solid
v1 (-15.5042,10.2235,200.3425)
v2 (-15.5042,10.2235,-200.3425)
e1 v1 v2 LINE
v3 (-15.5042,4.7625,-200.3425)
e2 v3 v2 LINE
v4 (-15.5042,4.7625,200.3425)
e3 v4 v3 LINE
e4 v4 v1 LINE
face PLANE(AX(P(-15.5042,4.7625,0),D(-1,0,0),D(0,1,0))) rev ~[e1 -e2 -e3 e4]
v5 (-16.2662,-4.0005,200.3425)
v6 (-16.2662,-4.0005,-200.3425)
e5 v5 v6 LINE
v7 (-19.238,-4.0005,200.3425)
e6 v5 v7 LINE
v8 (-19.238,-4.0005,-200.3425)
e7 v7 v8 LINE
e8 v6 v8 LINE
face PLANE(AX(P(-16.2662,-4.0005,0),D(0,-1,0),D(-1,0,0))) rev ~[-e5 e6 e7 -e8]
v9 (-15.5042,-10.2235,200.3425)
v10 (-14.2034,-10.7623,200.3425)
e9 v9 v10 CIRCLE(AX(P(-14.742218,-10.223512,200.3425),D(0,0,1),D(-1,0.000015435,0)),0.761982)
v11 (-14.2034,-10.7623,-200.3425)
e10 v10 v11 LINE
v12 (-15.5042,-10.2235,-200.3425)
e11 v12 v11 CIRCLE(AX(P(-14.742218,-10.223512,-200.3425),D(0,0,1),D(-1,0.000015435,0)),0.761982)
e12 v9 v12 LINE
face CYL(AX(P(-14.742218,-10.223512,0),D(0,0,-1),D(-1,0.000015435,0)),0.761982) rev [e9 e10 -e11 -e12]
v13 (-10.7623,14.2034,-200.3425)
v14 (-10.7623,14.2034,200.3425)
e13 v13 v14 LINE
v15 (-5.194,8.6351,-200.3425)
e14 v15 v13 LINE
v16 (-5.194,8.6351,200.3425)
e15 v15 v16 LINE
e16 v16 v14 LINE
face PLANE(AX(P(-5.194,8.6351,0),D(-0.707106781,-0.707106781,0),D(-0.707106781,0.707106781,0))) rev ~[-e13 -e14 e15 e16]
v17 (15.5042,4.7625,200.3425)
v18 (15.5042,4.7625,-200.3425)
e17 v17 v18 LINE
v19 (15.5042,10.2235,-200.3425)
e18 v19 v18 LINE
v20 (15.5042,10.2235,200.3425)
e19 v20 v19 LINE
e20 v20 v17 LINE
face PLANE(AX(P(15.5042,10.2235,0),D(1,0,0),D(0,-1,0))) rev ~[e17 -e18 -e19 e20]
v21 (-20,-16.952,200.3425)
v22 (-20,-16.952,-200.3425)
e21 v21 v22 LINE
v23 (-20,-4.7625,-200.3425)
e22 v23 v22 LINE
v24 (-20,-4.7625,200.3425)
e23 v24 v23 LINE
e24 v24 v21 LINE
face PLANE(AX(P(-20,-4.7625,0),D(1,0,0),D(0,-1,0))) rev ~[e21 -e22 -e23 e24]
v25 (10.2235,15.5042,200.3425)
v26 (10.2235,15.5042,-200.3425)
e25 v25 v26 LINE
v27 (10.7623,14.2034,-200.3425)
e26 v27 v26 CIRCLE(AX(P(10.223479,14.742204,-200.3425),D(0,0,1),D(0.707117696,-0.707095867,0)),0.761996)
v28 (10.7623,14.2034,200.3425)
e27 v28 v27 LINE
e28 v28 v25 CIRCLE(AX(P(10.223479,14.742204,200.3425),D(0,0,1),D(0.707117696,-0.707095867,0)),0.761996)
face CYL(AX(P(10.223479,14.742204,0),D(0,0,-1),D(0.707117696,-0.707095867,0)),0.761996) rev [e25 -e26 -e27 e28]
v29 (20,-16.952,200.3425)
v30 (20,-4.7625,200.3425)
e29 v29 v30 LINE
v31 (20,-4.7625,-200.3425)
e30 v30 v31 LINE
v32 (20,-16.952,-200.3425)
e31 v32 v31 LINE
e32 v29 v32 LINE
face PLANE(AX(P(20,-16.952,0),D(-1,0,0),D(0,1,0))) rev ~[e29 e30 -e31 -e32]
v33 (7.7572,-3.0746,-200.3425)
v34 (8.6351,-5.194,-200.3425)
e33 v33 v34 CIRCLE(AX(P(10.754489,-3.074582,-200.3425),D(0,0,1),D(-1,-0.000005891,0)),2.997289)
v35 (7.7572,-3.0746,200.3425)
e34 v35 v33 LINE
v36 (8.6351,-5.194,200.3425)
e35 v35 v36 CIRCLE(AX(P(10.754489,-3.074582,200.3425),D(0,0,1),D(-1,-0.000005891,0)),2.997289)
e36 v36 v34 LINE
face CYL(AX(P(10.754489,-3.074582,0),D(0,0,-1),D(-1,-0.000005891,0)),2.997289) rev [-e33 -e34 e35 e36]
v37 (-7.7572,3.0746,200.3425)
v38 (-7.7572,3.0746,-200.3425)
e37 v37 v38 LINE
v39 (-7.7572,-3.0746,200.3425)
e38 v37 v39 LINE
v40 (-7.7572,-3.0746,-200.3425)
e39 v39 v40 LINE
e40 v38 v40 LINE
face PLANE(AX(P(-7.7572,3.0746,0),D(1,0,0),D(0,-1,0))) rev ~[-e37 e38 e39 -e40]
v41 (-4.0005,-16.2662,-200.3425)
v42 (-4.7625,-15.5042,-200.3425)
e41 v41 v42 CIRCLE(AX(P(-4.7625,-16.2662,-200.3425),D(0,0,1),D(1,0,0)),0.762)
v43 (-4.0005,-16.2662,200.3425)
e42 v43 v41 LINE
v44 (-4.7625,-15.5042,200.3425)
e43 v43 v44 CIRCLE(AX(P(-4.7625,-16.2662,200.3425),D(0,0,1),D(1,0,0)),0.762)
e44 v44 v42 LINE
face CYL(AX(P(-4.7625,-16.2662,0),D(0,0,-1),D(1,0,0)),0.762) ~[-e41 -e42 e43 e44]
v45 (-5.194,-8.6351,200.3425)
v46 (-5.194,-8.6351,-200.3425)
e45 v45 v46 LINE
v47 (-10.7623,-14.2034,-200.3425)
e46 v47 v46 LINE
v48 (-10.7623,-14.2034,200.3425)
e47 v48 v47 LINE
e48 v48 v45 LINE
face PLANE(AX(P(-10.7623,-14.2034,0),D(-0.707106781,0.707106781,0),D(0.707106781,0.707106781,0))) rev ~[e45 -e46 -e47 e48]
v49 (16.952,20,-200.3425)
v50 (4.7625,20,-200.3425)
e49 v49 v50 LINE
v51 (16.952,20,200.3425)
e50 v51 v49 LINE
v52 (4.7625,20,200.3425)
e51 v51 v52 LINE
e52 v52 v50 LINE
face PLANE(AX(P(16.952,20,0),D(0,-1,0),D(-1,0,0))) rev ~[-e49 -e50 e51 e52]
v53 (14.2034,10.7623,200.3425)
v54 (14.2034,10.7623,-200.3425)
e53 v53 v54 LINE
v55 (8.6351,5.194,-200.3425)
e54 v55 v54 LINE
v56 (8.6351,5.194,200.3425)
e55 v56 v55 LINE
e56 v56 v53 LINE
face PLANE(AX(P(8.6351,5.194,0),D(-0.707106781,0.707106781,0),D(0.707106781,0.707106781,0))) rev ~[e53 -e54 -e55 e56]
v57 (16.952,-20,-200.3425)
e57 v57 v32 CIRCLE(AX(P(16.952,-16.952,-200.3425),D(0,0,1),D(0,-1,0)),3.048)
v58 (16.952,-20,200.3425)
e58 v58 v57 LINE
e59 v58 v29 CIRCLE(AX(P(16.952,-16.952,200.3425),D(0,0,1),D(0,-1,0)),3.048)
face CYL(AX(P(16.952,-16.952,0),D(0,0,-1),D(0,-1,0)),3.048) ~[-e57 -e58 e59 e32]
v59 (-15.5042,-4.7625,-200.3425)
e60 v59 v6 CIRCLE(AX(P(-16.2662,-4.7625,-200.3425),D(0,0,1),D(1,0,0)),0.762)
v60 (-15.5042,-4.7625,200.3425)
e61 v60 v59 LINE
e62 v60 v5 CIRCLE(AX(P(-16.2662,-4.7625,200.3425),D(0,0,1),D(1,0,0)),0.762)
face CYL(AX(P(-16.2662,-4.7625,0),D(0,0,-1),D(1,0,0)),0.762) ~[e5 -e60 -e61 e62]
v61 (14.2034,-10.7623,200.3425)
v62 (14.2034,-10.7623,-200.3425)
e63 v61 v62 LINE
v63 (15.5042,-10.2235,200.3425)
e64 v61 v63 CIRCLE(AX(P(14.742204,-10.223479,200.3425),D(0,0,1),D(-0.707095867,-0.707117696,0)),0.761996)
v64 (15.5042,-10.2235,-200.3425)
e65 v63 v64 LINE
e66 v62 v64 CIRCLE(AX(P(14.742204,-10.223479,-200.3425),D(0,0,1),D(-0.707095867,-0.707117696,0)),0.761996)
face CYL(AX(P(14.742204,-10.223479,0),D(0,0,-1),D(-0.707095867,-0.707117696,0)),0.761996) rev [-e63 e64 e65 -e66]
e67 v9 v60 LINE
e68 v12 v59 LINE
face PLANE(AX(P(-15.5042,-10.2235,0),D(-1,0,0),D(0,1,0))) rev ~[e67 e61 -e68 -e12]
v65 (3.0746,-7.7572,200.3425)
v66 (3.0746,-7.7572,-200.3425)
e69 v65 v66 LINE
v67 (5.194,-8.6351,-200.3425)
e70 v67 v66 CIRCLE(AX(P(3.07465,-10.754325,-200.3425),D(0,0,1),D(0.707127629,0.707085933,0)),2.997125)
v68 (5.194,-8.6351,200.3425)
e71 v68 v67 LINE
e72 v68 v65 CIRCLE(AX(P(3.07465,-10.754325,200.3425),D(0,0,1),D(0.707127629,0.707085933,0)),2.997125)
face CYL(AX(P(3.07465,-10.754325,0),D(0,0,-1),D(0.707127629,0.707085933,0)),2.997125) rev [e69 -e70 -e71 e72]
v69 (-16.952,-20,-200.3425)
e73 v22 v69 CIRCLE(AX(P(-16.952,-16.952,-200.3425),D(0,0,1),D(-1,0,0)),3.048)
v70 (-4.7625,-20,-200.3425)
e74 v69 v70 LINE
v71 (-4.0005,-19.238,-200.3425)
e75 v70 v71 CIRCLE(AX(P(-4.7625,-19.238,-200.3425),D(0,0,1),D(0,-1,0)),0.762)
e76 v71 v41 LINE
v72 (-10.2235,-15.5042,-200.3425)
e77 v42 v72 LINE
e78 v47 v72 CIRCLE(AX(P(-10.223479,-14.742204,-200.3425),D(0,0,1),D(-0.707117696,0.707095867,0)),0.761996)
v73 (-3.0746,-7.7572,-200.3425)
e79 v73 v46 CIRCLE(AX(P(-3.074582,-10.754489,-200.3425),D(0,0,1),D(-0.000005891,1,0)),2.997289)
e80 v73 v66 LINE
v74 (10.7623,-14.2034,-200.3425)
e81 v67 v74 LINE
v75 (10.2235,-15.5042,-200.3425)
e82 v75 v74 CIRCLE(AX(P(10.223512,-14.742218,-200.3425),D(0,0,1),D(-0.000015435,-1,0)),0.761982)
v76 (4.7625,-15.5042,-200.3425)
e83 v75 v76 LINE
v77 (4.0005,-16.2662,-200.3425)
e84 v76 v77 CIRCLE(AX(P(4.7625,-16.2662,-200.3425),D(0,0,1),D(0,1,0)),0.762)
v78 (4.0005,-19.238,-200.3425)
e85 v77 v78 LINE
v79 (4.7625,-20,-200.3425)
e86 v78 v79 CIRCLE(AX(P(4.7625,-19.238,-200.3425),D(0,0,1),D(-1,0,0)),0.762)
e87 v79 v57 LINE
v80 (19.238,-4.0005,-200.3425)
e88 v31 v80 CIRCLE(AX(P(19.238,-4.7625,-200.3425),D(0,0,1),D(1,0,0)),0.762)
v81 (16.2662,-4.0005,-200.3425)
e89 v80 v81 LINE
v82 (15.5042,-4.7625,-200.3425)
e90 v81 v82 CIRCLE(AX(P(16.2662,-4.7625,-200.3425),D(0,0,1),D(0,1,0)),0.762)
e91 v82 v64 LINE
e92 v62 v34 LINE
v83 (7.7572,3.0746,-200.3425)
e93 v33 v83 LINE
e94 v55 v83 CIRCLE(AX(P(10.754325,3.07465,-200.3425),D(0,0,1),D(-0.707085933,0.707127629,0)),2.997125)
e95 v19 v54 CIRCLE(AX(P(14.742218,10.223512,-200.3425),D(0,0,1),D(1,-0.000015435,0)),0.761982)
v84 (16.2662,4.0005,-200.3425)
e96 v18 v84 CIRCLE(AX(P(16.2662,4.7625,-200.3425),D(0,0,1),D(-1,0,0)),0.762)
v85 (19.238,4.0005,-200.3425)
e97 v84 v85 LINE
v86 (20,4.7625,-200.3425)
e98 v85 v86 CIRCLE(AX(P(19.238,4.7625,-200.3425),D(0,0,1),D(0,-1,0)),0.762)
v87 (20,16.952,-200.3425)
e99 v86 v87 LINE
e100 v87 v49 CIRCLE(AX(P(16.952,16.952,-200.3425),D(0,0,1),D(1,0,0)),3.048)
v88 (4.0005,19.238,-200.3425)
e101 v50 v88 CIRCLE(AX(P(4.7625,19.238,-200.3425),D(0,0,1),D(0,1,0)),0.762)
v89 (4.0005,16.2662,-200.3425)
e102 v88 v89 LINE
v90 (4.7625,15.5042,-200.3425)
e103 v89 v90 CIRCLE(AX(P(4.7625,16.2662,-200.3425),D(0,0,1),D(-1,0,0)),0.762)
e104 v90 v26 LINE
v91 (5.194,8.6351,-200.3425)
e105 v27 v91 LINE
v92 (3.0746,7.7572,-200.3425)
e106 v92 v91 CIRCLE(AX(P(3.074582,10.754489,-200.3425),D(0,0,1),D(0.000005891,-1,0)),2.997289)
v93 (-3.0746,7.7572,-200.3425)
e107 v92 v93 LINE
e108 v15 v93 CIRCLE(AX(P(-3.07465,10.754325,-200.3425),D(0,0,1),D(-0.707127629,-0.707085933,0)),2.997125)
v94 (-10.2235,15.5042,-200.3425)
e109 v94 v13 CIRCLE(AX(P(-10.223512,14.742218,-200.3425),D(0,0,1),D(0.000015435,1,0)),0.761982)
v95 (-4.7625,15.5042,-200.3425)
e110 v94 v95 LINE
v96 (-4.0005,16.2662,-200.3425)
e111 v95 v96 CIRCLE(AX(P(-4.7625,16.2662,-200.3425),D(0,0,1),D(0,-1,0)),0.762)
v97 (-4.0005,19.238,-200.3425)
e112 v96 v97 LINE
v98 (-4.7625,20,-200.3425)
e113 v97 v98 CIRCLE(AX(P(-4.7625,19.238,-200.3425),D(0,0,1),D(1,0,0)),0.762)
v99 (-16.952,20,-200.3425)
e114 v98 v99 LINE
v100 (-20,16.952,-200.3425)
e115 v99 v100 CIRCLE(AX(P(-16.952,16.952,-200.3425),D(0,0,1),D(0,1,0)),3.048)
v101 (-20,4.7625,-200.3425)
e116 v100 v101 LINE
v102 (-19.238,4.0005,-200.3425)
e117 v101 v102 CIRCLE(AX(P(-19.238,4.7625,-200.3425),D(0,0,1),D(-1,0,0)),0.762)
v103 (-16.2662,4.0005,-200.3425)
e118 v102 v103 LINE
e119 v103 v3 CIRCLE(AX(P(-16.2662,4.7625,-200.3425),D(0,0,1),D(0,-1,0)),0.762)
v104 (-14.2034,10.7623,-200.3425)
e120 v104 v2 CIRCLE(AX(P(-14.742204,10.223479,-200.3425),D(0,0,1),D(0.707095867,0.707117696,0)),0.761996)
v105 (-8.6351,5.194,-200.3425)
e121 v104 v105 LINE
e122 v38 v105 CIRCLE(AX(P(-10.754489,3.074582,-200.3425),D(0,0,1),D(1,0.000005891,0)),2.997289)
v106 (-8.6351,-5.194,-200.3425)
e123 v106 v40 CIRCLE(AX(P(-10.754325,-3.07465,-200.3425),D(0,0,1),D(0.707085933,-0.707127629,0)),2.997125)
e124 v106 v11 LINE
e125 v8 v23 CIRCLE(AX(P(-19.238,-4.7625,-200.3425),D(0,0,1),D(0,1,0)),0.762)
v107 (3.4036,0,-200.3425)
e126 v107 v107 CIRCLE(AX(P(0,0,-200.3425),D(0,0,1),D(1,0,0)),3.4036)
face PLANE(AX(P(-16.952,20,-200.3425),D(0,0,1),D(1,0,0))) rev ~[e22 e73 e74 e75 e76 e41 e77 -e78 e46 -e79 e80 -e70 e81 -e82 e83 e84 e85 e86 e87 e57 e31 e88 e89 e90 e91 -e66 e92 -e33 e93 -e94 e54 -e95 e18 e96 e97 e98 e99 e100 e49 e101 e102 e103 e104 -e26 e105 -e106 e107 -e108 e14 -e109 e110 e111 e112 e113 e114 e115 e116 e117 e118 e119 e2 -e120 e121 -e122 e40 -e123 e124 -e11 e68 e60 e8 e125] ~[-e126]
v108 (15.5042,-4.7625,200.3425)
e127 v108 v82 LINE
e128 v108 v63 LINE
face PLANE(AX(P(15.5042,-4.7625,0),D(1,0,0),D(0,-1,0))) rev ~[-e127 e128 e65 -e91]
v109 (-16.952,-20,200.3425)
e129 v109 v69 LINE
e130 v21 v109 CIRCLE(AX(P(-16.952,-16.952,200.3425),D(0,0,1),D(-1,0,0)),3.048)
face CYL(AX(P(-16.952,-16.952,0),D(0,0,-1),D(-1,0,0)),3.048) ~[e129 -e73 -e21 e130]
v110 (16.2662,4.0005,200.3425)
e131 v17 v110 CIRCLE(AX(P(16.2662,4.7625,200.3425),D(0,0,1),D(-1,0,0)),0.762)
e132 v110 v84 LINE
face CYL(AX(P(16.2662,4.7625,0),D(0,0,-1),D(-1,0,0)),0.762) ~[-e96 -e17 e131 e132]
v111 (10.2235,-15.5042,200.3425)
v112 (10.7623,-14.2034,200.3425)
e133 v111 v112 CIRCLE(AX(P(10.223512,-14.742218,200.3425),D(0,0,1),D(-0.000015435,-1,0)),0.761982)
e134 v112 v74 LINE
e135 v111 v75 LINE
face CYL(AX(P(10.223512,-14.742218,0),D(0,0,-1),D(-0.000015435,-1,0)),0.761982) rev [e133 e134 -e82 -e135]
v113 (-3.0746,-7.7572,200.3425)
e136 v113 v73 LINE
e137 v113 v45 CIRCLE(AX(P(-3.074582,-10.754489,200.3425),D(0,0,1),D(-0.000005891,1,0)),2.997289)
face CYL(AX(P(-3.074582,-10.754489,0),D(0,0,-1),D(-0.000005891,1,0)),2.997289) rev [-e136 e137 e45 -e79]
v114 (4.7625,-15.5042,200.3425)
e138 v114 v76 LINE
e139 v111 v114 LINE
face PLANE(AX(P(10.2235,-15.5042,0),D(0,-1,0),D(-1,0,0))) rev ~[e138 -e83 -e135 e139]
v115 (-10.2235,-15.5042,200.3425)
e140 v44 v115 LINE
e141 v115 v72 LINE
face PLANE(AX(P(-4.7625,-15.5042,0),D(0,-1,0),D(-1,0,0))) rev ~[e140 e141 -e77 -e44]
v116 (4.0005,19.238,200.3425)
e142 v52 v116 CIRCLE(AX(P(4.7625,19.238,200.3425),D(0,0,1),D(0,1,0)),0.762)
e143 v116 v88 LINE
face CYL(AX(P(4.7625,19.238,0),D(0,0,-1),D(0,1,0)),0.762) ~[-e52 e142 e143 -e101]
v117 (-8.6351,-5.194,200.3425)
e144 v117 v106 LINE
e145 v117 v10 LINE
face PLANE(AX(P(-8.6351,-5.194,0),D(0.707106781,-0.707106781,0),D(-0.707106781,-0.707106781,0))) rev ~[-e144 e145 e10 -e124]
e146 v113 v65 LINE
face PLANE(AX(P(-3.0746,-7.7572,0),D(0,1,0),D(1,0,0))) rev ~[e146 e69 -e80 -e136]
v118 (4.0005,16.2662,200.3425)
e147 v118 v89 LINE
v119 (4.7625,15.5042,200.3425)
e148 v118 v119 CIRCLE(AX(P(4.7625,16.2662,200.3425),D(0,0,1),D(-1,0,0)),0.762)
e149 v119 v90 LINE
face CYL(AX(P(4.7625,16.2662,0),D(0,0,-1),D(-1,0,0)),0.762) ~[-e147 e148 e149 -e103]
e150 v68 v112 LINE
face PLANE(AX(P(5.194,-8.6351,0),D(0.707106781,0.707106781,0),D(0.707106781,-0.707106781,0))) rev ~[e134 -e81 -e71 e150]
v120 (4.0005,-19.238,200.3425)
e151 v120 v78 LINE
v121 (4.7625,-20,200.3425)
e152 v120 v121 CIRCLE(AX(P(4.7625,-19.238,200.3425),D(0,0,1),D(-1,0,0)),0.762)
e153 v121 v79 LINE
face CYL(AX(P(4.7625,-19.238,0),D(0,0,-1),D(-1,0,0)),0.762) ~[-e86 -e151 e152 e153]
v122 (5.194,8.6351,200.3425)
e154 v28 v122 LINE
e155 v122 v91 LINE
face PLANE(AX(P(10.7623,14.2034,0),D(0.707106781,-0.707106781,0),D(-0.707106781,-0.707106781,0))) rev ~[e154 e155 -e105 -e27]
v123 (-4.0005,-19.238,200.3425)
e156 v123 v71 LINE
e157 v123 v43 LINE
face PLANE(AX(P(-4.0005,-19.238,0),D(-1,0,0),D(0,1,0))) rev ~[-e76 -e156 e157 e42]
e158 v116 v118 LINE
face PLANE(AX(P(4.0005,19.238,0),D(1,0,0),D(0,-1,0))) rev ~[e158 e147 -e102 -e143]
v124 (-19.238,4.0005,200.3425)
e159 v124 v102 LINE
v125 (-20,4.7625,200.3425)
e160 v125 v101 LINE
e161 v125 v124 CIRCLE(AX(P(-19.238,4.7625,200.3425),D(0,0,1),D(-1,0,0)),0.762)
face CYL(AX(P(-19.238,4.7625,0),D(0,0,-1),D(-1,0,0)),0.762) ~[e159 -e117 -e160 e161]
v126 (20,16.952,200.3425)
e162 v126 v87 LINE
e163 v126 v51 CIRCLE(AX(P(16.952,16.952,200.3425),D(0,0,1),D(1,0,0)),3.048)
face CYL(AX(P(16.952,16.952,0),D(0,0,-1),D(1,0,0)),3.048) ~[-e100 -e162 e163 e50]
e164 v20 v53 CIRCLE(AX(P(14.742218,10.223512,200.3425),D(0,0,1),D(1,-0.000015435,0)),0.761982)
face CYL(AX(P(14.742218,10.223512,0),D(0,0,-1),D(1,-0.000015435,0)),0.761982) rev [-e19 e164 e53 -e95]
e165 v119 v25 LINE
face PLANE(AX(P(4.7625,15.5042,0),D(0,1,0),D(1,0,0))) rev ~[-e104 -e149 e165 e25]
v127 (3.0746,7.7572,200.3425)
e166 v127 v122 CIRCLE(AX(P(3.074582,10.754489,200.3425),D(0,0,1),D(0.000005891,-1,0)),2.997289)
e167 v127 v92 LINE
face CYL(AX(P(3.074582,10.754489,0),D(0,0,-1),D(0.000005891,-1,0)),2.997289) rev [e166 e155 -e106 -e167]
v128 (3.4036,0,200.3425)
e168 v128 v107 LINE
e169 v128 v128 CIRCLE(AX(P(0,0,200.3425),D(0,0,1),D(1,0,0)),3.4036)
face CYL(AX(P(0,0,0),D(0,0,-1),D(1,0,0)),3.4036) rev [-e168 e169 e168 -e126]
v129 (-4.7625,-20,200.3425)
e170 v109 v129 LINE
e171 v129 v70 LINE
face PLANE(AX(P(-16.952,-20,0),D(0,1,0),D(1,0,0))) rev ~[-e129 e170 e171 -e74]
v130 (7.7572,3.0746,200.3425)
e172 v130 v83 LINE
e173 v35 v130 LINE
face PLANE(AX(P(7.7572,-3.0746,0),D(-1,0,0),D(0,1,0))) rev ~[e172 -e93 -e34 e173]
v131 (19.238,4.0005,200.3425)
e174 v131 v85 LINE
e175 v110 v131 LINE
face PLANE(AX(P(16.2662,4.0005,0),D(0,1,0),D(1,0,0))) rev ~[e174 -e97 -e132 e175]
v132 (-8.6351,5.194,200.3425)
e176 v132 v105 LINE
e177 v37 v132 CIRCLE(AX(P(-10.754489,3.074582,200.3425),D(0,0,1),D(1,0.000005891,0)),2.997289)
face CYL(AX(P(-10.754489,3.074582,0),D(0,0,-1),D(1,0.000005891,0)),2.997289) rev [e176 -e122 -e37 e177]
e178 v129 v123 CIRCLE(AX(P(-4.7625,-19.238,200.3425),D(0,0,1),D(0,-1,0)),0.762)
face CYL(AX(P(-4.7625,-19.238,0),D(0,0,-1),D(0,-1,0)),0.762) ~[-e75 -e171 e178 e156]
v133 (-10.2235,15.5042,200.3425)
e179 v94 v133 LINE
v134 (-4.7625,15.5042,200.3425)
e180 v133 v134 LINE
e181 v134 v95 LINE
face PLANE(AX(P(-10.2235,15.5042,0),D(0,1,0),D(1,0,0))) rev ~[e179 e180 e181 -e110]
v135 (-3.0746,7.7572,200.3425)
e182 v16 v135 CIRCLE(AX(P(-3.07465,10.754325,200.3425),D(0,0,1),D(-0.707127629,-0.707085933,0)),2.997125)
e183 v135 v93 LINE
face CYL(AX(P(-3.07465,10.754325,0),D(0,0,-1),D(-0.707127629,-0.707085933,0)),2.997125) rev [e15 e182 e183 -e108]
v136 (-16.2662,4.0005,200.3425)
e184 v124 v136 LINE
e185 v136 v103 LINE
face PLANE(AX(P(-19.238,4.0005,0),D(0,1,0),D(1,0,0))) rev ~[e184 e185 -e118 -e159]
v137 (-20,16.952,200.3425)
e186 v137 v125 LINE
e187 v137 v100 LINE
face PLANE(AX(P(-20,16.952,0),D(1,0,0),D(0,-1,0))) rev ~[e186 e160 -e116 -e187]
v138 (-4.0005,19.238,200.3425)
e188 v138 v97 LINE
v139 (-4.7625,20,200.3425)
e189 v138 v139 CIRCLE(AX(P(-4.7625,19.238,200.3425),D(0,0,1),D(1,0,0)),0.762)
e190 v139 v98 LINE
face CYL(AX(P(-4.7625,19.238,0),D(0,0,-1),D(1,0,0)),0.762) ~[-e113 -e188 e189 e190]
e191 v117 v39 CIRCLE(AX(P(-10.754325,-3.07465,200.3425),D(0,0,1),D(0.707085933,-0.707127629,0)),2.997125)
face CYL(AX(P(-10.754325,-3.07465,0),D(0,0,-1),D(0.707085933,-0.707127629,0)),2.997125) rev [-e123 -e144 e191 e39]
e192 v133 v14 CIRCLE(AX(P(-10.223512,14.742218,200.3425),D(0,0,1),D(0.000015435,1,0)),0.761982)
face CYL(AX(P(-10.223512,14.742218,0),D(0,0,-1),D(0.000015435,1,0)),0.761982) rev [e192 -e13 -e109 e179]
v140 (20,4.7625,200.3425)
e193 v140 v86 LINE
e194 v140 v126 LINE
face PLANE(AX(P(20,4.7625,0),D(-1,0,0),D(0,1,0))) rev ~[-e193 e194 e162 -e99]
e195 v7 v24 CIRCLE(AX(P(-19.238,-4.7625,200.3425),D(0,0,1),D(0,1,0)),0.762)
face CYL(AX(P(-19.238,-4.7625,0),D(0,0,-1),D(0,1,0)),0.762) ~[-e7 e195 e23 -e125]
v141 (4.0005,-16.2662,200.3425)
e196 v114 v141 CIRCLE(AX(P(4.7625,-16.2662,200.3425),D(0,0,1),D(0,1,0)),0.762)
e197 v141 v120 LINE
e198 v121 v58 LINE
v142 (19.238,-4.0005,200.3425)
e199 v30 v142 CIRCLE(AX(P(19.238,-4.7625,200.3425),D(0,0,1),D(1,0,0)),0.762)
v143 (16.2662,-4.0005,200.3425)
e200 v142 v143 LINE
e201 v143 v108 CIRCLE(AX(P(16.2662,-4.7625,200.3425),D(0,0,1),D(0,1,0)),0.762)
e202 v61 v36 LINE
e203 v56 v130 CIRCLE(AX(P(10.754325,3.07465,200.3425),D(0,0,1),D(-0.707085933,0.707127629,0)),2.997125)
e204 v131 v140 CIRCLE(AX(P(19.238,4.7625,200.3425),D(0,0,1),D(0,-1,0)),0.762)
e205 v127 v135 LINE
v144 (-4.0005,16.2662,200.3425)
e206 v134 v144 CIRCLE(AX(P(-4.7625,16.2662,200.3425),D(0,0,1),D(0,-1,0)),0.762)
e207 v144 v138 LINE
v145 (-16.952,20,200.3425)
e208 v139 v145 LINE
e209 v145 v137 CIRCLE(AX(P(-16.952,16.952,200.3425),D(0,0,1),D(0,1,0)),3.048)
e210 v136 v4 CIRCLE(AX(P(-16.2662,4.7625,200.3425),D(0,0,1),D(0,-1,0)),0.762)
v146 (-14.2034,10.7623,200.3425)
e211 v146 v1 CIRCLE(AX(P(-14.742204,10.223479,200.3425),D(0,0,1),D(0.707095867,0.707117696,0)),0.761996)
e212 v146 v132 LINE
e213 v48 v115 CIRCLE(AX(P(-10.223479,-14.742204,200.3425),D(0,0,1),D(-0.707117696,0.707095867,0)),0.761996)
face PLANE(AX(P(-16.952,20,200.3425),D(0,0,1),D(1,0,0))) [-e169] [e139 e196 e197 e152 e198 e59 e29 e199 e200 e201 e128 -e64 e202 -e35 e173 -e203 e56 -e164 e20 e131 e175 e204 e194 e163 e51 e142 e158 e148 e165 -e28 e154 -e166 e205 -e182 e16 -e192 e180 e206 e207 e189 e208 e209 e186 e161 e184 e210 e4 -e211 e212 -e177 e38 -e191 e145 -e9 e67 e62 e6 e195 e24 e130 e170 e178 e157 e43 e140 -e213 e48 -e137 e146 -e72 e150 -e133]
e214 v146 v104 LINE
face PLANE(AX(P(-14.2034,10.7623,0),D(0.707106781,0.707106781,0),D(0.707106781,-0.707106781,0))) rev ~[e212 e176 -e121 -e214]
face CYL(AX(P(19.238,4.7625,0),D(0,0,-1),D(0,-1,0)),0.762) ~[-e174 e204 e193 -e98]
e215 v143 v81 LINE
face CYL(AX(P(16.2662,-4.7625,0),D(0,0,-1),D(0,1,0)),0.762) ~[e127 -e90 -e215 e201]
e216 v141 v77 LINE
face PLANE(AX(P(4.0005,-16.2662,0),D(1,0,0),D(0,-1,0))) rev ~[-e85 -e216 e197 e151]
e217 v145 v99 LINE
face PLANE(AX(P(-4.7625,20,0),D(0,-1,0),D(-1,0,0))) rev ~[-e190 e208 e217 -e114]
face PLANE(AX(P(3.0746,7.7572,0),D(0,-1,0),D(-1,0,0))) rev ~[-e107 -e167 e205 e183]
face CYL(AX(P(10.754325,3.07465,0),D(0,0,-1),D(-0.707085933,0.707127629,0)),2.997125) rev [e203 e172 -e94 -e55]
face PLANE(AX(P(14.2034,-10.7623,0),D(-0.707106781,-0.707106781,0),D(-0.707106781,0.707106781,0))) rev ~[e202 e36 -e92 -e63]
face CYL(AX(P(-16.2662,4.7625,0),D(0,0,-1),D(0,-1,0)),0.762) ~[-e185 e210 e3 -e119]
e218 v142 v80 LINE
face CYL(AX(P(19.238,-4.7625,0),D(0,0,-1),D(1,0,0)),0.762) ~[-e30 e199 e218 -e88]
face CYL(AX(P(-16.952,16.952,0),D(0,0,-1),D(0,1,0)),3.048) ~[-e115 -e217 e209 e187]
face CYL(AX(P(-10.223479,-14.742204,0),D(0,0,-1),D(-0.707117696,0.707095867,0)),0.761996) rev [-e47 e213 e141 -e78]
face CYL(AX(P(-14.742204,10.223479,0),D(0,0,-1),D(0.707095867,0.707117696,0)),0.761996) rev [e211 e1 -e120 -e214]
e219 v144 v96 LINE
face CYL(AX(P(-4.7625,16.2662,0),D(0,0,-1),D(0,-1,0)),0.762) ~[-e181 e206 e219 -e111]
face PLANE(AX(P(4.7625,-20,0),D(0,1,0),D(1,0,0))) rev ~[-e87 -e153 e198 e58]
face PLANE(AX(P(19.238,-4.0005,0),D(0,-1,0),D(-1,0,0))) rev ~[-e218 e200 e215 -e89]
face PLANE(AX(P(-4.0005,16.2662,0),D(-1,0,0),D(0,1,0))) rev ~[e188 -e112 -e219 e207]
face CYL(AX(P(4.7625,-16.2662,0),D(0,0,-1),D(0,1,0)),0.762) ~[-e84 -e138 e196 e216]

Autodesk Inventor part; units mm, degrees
ref_plane "YZ Plane" through (0, 0, 0) normal (1, 0, 0) x (0, 1, 0)
ref_plane "XZ Plane" through (0, 0, 0) normal (0, 1, 0) x (-1, 0, 0)
ref_plane "XY Plane" through (0, 0, 0) normal (0, 0, 1) x (1, 0, 0)
sketch "Sketch1" plane through (-16.952, 20, 0) normal (0, 0, 1) x (1, 0, 0)
  arc A0 (11.758, -11.3649) -> (13.8774, -12.2428) centre (13.8774, -9.2456) ccw projected
  line L0 (11.758, -11.3649) -> (6.1897, -5.7966) projected
  arc A1 (6.7285, -4.4958) -> (6.1897, -5.7966) centre (6.7285, -5.2578) ccw projected
  line L1 (6.7285, -4.4958) -> (12.1895, -4.4958) projected
  arc A2 (12.1895, -4.4958) -> (12.9515, -3.7338) centre (12.1895, -3.7338) ccw projected
  line L2 (12.9515, -3.7338) -> (12.9515, -0.762) projected
  arc A3 (12.9515, -0.762) -> (12.1895, 0) centre (12.1895, -0.762) ccw projected
  line L3 (12.1895, 0) -> (0, 0) projected
  arc A4 (0, 0) -> (-3.048, -3.048) centre (0, -3.048) ccw projected
  line L4 (-3.048, -3.048) -> (-3.048, -15.2375) projected
  arc A5 (-3.048, -15.2375) -> (-2.286, -15.9995) centre (-2.286, -15.2375) ccw projected
  line L5 (-2.286, -15.9995) -> (0.6858, -15.9995) projected
  arc A6 (0.6858, -15.9995) -> (1.4478, -15.2375) centre (0.6858, -15.2375) ccw projected
  line L6 (1.4478, -15.2375) -> (1.4478, -9.7765) projected
  arc A7 (2.7486, -9.2377) -> (1.4478, -9.7765) centre (2.2098, -9.7765) ccw projected
  line L7 (2.7486, -9.2377) -> (8.3169, -14.806) projected
  arc A8 (9.1948, -16.9254) -> (8.3169, -14.806) centre (6.1976, -16.9254) ccw projected
  line L8 (9.1948, -16.9254) -> (9.1948, -23.0746) projected
  arc A9 (8.3169, -25.194) -> (9.1948, -23.0746) centre (6.1976, -23.0746) ccw projected
  line L9 (8.3169, -25.194) -> (2.7486, -30.7623) projected
  arc A10 (1.4478, -30.2235) -> (2.7486, -30.7623) centre (2.2098, -30.2235) ccw projected
  line L10 (1.4478, -30.2235) -> (1.4478, -24.7625) projected
  arc A11 (1.4478, -24.7625) -> (0.6858, -24.0005) centre (0.6858, -24.7625) ccw projected
  line L11 (0.6858, -24.0005) -> (-2.286, -24.0005) projected
  arc A12 (-2.286, -24.0005) -> (-3.048, -24.7625) centre (-2.286, -24.7625) ccw projected
  line L12 (-3.048, -24.7625) -> (-3.048, -36.952) projected
  arc A13 (-3.048, -36.952) -> (0, -40) centre (0, -36.952) ccw projected
  line L13 (0, -40) -> (12.1895, -40) projected
  arc A14 (12.1895, -40) -> (12.9515, -39.238) centre (12.1895, -39.238) ccw projected
  line L14 (12.9515, -39.238) -> (12.9515, -36.2662) projected
  arc A15 (12.9515, -36.2662) -> (12.1895, -35.5042) centre (12.1895, -36.2662) ccw projected
  line L15 (12.1895, -35.5042) -> (6.7285, -35.5042) projected
  arc A16 (6.1897, -34.2034) -> (6.7285, -35.5042) centre (6.7285, -34.7422) ccw projected
  line L16 (6.1897, -34.2034) -> (11.758, -28.6351) projected
  arc A17 (13.8774, -27.7572) -> (11.758, -28.6351) centre (13.8774, -30.7544) ccw projected
  line L17 (13.8774, -27.7572) -> (20.0266, -27.7572) projected
  arc A18 (22.146, -28.6351) -> (20.0266, -27.7572) centre (20.0266, -30.7544) ccw projected
  line L18 (22.146, -28.6351) -> (27.7143, -34.2034) projected
  arc A19 (27.1755, -35.5042) -> (27.7143, -34.2034) centre (27.1755, -34.7422) ccw projected
  line L19 (27.1755, -35.5042) -> (21.7145, -35.5042) projected
  arc A20 (21.7145, -35.5042) -> (20.9525, -36.2662) centre (21.7145, -36.2662) ccw projected
  line L20 (20.9525, -36.2662) -> (20.9525, -39.238) projected
  arc A21 (20.9525, -39.238) -> (21.7145, -40) centre (21.7145, -39.238) ccw projected
  line L21 (21.7145, -40) -> (33.904, -40) projected
  arc A22 (33.904, -40) -> (36.952, -36.952) centre (33.904, -36.952) ccw projected
  line L22 (36.952, -36.952) -> (36.952, -24.7625) projected
  arc A23 (36.952, -24.7625) -> (36.19, -24.0005) centre (36.19, -24.7625) ccw projected
  line L23 (36.19, -24.0005) -> (33.2182, -24.0005) projected
  arc A24 (33.2182, -24.0005) -> (32.4562, -24.7625) centre (33.2182, -24.7625) ccw projected
  line L24 (32.4562, -24.7625) -> (32.4562, -30.2235) projected
  arc A25 (31.1554, -30.7623) -> (32.4562, -30.2235) centre (31.6942, -30.2235) ccw projected
  line L25 (31.1554, -30.7623) -> (25.5871, -25.194) projected
  arc A26 (24.7092, -23.0746) -> (25.5871, -25.194) centre (27.7064, -23.0746) ccw projected
  line L26 (24.7092, -23.0746) -> (24.7092, -16.9254) projected
  arc A27 (25.5871, -14.806) -> (24.7092, -16.9254) centre (27.7064, -16.9254) ccw projected
  line L27 (25.5871, -14.806) -> (31.1554, -9.2377) projected
  arc A28 (32.4562, -9.7765) -> (31.1554, -9.2377) centre (31.6942, -9.7765) ccw projected
  line L28 (32.4562, -9.7765) -> (32.4562, -15.2375) projected
  arc A29 (32.4562, -15.2375) -> (33.2182, -15.9995) centre (33.2182, -15.2375) ccw projected
  line L29 (33.2182, -15.9995) -> (36.19, -15.9995) projected
  arc A30 (36.19, -15.9995) -> (36.952, -15.2375) centre (36.19, -15.2375) ccw projected
  line L30 (36.952, -15.2375) -> (36.952, -3.048) projected
  arc A31 (36.952, -3.048) -> (33.904, 0) centre (33.904, -3.048) ccw projected
  line L31 (33.904, 0) -> (21.7145, 0) projected
  arc A32 (21.7145, 0) -> (20.9525, -0.762) centre (21.7145, -0.762) ccw projected
  line L32 (20.9525, -0.762) -> (20.9525, -3.7338) projected
  arc A33 (20.9525, -3.7338) -> (21.7145, -4.4958) centre (21.7145, -3.7338) ccw projected
  line L33 (21.7145, -4.4958) -> (27.1755, -4.4958) projected
  arc A34 (27.7143, -5.7966) -> (27.1755, -4.4958) centre (27.1755, -5.2578) ccw projected
  line L34 (27.7143, -5.7966) -> (22.146, -11.3649) projected
  arc A35 (20.0266, -12.2428) -> (22.146, -11.3649) centre (20.0266, -9.2456) ccw projected
  line L35 (20.0266, -12.2428) -> (13.8774, -12.2428) projected
  circle A36 centre (16.952, -20) radius 3.4036 projected
extrude "Extrusion1" add sketch "Sketch1" along normal mid plane 400.685
